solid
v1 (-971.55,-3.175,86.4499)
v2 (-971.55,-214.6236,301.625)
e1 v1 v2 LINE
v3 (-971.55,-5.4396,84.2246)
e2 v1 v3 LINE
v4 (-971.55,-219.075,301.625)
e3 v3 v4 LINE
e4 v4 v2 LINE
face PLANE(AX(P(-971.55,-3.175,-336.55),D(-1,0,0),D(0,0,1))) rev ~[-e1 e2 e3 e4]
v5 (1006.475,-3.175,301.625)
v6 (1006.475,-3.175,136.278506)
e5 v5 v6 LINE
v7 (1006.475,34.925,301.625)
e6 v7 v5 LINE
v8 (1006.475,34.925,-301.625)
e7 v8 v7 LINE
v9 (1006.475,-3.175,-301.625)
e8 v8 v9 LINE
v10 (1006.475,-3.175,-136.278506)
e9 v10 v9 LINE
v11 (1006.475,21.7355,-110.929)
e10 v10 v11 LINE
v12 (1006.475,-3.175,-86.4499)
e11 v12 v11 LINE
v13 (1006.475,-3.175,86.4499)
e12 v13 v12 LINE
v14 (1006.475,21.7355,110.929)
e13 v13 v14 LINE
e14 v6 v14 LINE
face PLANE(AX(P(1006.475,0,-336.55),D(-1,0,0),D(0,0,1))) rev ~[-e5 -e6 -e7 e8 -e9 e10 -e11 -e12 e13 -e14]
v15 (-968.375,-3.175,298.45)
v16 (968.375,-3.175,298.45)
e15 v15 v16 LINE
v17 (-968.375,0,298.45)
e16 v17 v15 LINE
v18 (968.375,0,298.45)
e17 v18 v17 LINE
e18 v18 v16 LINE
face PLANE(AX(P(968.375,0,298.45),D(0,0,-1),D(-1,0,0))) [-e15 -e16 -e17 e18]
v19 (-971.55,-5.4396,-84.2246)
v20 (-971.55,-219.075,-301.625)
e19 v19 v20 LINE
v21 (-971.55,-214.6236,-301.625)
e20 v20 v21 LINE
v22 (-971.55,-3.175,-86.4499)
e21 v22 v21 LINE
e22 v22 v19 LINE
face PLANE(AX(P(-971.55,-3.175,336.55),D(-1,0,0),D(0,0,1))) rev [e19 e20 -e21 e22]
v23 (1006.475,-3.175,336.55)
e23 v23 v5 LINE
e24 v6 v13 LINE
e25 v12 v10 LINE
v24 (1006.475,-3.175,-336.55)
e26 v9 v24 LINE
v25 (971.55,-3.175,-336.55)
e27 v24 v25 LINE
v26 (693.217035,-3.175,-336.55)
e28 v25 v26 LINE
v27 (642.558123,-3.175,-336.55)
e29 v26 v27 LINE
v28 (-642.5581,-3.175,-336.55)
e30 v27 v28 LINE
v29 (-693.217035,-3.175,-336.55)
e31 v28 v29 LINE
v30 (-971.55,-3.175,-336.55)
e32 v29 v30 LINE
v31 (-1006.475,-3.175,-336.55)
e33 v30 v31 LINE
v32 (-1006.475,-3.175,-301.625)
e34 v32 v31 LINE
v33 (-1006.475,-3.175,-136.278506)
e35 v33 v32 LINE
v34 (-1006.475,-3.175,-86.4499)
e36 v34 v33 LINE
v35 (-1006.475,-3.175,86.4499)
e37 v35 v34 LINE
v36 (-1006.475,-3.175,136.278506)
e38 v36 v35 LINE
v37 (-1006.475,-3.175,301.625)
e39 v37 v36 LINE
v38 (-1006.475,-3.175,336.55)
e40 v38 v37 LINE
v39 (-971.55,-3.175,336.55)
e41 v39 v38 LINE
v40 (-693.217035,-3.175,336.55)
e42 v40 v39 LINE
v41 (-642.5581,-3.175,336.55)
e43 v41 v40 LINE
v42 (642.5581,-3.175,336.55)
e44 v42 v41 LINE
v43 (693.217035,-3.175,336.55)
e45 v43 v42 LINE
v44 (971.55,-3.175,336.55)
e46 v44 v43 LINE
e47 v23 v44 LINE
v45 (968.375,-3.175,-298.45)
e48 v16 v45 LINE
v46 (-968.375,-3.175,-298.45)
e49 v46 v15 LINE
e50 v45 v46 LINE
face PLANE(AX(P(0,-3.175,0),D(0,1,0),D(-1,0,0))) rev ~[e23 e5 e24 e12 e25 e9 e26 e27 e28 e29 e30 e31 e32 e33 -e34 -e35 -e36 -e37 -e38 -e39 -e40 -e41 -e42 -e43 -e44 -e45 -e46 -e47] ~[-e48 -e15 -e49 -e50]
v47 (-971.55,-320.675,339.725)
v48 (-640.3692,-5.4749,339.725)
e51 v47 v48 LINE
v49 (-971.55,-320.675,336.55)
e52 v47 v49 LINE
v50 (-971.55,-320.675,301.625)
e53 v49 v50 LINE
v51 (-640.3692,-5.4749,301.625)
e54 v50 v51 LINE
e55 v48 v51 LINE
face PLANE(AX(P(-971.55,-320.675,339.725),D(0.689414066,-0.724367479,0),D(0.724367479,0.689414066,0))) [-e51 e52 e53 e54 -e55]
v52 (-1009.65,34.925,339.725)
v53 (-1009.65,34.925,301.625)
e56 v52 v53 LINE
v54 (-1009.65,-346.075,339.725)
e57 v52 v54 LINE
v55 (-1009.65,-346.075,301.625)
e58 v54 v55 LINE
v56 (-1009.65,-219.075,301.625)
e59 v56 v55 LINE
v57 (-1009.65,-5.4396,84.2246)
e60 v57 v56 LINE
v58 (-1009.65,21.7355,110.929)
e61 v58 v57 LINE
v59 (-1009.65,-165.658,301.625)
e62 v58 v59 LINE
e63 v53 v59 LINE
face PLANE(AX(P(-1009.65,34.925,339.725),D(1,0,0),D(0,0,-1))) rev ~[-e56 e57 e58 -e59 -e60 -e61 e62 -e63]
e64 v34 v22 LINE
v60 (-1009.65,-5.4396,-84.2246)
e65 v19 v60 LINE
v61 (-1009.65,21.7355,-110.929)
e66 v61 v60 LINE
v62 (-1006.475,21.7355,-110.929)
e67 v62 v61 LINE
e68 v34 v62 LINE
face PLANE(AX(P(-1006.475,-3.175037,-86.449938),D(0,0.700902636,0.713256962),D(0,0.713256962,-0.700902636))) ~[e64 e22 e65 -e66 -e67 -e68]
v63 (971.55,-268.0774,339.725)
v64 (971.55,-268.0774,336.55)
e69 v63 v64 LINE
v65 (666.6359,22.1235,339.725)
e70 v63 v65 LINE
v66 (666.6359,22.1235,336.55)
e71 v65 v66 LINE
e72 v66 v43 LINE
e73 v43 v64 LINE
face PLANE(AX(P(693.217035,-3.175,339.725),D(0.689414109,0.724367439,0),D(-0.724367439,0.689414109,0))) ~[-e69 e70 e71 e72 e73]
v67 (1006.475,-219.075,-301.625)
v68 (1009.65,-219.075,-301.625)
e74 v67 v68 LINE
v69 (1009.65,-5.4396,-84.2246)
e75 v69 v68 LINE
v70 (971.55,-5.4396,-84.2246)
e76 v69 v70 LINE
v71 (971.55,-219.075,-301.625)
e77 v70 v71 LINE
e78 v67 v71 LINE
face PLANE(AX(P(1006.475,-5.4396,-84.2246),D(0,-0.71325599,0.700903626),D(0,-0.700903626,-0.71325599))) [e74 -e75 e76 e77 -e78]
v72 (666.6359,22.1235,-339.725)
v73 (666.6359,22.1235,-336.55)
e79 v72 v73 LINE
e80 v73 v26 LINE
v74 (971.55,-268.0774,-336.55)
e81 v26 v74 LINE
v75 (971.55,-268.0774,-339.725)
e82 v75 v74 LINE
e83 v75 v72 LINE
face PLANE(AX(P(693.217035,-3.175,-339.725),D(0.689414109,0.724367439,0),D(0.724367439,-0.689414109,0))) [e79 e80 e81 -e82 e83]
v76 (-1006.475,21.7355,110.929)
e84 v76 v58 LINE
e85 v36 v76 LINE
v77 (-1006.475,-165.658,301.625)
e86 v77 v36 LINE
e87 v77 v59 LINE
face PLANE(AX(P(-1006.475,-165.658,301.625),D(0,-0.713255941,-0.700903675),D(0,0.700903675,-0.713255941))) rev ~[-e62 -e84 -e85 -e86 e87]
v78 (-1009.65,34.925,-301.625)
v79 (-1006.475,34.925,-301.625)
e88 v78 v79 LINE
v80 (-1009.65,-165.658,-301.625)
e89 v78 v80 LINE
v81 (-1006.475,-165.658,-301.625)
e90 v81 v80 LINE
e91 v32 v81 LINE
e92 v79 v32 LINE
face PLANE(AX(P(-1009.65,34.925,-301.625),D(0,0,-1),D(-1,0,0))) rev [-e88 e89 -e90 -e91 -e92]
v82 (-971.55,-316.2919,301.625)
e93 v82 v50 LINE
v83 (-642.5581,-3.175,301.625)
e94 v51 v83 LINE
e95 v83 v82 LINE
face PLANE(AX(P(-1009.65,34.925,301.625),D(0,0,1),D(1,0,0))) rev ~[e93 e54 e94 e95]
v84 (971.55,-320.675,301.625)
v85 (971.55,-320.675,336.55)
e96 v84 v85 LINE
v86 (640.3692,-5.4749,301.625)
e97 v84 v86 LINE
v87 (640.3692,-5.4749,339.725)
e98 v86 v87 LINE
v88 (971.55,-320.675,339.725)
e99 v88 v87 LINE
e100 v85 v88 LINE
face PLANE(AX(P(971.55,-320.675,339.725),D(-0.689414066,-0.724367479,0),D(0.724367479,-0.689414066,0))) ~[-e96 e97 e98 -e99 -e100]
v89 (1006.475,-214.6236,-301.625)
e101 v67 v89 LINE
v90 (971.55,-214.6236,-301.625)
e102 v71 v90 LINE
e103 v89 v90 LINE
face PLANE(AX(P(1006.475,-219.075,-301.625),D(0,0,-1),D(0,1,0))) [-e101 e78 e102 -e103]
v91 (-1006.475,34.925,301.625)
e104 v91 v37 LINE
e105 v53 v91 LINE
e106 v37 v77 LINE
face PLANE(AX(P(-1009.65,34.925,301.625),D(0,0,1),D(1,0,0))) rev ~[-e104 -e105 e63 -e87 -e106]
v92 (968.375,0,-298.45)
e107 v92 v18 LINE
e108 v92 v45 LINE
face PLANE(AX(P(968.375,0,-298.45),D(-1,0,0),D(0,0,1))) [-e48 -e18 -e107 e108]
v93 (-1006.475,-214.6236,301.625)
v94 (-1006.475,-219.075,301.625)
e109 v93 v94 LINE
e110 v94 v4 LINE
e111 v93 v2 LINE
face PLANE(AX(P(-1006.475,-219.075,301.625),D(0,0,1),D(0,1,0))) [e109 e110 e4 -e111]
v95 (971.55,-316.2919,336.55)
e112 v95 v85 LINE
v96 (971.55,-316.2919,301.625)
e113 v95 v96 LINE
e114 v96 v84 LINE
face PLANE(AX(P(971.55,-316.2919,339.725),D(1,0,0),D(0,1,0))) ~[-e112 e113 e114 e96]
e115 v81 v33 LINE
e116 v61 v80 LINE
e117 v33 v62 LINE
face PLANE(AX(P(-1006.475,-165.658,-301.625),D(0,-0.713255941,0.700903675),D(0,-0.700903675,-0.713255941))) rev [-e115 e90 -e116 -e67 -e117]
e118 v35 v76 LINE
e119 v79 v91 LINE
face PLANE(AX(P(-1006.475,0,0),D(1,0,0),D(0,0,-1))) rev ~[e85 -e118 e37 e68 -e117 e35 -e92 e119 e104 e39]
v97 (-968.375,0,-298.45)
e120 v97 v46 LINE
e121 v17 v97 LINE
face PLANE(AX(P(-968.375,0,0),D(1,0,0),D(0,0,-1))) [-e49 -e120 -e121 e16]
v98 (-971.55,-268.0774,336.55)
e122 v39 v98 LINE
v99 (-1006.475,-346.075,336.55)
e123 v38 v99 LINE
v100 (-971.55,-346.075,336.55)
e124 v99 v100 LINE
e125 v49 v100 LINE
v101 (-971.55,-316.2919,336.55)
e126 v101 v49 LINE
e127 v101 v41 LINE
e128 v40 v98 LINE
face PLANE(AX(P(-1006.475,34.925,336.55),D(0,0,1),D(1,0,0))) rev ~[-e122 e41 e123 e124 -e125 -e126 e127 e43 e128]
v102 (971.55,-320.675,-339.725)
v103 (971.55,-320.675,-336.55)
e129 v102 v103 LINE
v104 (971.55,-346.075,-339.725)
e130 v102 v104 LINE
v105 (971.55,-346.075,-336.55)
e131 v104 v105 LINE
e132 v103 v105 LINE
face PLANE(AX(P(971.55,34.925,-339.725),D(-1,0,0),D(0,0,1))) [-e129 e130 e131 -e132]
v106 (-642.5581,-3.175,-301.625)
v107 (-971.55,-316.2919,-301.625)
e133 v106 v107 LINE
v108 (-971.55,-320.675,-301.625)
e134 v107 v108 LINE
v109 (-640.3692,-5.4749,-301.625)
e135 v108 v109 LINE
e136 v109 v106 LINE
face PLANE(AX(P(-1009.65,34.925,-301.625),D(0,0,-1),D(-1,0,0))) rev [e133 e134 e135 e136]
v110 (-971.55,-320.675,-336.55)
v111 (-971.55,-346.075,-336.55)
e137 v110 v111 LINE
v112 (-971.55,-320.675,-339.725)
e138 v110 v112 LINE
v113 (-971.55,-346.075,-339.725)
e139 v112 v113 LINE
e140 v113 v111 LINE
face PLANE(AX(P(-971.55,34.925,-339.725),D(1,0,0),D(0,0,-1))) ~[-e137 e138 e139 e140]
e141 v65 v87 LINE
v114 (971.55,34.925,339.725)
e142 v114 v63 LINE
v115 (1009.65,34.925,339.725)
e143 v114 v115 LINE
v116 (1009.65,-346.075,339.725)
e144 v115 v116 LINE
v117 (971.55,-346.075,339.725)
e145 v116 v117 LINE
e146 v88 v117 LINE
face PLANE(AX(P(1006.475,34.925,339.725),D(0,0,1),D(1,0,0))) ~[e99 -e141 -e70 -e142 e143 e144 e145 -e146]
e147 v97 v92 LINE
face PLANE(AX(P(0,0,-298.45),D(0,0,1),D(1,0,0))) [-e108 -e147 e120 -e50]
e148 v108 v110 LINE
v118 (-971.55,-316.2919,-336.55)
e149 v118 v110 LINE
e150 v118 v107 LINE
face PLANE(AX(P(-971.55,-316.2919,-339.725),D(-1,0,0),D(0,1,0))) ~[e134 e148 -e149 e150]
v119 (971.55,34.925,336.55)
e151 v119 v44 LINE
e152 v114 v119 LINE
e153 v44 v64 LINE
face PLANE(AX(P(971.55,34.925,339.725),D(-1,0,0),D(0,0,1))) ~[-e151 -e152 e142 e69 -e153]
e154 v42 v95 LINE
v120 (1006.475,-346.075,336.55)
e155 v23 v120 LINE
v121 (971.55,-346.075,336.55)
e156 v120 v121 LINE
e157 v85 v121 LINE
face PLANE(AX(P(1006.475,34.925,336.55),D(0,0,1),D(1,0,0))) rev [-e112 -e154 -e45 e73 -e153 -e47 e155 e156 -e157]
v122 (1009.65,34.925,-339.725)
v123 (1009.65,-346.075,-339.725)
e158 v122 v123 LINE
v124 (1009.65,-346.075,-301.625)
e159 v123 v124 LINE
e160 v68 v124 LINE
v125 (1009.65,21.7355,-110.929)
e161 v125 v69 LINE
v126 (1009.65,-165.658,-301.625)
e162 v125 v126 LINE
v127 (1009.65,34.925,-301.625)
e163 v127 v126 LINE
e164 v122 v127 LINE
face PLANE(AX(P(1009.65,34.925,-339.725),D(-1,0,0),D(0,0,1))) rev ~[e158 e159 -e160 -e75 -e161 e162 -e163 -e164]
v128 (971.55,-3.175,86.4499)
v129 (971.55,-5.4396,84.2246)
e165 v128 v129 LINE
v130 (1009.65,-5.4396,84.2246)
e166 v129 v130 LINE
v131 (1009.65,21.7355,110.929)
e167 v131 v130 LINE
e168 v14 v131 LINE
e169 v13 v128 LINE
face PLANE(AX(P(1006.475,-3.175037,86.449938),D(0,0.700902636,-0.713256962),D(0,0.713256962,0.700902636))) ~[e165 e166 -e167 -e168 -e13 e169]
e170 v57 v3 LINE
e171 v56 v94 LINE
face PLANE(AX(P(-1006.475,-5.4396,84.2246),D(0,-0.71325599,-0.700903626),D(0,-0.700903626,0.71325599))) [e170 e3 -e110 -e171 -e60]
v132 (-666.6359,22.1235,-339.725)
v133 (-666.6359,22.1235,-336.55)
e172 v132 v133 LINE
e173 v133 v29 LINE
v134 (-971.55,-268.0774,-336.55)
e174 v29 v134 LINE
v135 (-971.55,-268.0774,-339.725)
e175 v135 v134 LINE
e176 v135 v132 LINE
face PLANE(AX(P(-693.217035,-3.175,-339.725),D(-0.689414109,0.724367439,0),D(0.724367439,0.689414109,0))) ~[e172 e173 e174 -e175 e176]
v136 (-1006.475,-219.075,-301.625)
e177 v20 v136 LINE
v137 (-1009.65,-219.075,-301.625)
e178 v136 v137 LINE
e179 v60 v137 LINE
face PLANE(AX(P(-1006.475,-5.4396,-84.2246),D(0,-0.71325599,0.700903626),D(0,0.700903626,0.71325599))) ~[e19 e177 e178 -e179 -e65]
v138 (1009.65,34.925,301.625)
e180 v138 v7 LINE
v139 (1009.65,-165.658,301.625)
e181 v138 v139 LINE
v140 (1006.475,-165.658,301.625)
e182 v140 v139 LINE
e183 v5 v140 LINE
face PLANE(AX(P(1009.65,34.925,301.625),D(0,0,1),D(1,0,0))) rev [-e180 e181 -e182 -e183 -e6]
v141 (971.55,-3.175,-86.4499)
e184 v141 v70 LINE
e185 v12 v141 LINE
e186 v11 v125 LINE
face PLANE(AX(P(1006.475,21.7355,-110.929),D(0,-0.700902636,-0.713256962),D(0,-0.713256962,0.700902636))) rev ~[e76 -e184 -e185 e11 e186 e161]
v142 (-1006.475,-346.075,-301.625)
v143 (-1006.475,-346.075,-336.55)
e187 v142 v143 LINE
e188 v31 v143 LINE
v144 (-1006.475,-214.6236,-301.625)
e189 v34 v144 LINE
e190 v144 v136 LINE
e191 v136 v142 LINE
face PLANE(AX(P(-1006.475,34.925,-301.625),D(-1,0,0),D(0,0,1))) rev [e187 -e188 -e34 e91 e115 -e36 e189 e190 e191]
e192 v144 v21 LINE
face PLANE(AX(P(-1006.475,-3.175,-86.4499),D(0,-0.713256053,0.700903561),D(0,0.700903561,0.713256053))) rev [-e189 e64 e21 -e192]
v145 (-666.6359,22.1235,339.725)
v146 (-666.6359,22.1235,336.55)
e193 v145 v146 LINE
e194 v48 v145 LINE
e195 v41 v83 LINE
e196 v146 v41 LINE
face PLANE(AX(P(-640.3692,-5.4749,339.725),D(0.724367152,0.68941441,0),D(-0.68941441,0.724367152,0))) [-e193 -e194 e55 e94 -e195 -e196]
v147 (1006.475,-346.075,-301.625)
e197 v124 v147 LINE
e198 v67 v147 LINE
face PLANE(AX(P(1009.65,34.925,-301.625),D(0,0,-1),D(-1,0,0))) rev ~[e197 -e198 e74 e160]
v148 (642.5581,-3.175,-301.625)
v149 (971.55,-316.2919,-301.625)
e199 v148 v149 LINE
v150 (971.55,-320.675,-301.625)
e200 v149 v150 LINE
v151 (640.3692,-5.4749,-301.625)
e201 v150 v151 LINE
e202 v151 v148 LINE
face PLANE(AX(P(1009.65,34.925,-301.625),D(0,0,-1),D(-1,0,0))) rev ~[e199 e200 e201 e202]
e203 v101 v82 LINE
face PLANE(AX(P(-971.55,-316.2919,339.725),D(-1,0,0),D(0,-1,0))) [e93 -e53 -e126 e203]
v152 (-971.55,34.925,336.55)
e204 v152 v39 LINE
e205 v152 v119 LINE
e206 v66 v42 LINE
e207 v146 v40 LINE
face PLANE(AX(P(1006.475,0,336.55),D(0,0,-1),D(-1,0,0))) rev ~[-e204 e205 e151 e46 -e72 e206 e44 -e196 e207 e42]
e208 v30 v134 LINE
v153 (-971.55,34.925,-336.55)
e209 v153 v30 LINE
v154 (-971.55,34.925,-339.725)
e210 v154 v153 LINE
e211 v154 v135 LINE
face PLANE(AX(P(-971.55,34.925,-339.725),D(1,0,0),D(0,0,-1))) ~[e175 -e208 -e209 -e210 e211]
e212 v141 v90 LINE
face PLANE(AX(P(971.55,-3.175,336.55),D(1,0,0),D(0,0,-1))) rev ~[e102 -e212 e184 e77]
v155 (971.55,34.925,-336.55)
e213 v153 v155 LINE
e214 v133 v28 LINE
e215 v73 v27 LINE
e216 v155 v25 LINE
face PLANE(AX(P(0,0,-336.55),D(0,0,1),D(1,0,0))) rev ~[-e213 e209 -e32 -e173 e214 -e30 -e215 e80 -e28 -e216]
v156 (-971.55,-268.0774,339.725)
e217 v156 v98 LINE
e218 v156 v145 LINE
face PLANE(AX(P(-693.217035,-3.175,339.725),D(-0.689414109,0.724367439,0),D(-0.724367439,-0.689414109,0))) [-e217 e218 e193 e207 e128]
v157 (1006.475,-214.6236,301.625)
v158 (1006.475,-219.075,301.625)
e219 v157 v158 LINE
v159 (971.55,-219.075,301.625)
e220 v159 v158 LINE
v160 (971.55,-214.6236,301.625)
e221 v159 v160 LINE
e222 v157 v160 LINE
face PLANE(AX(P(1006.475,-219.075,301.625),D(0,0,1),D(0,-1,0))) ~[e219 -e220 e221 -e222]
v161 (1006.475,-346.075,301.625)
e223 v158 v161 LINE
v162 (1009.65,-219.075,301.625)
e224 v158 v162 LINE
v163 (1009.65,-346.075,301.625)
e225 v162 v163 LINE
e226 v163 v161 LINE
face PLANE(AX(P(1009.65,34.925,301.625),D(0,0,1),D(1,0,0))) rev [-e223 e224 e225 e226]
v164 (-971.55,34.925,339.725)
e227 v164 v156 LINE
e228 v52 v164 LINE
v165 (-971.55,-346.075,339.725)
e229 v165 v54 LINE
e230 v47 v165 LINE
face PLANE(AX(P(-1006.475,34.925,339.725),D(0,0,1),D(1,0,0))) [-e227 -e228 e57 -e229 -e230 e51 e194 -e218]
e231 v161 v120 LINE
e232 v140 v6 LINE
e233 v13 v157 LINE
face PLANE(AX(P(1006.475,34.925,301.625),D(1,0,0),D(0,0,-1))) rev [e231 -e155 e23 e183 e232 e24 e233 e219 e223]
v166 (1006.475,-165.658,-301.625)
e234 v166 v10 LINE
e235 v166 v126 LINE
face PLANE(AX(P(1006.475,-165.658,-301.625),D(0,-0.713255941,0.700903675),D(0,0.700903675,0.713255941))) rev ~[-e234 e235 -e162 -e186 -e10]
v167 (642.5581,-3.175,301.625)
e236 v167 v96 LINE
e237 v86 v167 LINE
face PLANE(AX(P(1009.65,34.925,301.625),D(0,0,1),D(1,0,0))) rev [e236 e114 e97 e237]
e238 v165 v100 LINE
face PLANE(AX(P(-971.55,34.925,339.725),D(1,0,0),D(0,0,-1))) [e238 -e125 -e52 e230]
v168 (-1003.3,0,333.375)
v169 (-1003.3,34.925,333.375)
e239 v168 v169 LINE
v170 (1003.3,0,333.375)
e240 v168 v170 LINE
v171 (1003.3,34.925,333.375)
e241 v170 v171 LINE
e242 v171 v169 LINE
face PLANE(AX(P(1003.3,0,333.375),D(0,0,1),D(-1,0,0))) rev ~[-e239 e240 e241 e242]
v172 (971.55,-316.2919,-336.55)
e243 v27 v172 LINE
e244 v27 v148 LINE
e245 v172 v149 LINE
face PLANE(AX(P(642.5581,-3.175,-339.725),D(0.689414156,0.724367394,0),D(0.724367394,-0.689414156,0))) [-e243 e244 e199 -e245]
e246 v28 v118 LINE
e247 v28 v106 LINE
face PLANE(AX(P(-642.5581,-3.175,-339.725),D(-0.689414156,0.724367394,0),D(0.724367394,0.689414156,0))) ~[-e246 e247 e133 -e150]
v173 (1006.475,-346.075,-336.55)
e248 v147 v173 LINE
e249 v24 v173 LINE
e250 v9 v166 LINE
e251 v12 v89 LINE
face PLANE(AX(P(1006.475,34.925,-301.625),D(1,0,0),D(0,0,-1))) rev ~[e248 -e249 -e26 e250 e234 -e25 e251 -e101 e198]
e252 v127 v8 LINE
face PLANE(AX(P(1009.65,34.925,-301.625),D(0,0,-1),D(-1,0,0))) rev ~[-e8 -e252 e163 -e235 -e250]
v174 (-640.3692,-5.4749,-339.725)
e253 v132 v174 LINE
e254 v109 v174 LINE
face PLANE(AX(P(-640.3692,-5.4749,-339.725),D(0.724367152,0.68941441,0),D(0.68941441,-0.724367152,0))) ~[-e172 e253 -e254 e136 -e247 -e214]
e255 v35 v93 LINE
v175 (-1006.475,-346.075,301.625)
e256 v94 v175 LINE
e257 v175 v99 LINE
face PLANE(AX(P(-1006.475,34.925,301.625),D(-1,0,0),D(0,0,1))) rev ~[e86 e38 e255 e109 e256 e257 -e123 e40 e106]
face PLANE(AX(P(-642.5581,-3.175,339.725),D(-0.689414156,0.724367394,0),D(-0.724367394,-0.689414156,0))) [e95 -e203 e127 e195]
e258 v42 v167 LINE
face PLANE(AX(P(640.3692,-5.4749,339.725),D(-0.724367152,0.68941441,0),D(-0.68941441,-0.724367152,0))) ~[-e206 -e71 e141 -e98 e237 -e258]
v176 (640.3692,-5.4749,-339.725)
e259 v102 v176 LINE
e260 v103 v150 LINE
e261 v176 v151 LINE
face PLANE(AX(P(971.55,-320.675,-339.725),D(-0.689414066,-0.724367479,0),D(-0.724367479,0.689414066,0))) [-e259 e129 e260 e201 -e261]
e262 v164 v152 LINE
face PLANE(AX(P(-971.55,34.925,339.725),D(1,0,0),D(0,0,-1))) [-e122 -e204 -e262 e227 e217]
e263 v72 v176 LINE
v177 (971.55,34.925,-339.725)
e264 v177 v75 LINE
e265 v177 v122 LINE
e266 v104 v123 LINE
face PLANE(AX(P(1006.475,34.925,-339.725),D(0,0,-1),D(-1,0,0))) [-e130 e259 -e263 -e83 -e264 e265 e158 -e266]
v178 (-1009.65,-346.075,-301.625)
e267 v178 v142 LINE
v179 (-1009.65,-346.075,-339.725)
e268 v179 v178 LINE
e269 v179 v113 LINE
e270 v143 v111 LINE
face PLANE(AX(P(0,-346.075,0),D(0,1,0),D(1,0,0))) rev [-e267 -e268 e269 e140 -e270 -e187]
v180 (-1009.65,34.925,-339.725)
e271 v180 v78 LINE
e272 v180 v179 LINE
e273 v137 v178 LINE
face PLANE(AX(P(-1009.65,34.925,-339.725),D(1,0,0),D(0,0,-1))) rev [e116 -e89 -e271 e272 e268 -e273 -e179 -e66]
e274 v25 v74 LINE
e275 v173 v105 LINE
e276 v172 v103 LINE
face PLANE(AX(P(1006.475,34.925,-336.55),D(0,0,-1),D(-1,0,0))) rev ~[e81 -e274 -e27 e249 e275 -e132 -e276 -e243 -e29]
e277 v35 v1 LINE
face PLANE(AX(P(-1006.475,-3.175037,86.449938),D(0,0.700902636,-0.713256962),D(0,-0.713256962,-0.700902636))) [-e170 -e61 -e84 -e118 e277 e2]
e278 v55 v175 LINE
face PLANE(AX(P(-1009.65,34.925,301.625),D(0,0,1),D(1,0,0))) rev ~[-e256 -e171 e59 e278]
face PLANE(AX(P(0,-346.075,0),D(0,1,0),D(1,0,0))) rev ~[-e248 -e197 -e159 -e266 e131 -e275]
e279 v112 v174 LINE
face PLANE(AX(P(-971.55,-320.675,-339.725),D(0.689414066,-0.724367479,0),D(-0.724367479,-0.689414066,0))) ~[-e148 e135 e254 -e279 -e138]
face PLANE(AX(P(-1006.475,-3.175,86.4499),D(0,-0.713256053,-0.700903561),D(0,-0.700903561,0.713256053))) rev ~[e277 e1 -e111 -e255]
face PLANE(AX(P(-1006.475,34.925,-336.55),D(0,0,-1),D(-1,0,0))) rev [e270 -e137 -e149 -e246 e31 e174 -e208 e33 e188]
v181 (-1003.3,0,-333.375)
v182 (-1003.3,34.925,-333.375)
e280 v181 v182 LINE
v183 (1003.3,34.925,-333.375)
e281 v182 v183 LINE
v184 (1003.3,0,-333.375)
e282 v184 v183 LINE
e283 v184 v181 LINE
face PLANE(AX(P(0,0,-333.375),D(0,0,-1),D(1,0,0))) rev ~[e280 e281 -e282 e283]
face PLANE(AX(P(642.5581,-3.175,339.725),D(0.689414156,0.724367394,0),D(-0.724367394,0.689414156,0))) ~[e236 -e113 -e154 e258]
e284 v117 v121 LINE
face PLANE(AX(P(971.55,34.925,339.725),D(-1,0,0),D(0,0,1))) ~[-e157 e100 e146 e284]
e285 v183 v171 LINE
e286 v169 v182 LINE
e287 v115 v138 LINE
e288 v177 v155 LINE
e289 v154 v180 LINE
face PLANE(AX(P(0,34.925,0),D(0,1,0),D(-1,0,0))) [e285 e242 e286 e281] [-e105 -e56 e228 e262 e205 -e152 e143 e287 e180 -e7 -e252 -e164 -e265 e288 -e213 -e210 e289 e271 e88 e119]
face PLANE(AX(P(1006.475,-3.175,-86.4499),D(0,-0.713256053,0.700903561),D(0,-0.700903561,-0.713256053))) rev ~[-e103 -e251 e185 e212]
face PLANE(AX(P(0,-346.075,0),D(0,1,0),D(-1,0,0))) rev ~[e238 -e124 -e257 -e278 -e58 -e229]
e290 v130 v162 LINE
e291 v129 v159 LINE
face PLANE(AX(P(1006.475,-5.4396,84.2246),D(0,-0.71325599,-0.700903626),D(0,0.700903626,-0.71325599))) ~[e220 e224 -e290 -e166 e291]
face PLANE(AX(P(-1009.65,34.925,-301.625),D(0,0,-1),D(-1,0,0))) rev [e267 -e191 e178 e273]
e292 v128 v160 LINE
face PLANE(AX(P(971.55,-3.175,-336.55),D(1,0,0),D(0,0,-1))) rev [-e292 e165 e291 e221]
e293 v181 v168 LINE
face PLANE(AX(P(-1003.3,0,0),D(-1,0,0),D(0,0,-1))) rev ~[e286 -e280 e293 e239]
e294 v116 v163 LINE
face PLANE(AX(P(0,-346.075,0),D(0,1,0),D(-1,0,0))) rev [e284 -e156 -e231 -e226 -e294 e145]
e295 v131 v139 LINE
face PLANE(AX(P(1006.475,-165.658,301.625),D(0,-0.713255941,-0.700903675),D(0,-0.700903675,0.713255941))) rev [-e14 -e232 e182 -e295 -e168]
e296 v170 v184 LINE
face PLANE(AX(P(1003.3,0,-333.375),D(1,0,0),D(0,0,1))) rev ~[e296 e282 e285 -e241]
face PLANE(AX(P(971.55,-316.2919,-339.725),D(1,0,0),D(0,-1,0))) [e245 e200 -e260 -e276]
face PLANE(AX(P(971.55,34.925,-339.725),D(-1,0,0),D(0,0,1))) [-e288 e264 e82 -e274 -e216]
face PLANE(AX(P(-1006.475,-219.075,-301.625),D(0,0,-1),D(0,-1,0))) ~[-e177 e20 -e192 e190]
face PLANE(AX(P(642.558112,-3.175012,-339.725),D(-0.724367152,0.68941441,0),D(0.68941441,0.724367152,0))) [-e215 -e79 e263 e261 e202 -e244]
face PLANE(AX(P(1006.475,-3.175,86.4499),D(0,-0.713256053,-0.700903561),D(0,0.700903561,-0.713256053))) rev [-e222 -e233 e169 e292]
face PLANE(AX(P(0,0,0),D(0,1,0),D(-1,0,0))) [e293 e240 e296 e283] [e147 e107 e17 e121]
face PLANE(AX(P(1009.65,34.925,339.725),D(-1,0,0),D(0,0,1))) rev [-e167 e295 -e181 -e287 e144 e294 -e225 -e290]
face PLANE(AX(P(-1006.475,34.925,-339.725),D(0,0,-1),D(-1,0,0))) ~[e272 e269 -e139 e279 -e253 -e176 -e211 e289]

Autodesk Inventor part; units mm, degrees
ref_plane "YZ Plane" through (0, 0, 0) normal (1, 0, 0) x (0, 1, 0)
ref_plane "XZ Plane" through (0, 0, 0) normal (0, 1, 0) x (-1, 0, 0)
ref_plane "XY Plane" through (0, 0, 0) normal (0, 0, 1) x (1, 0, 0)
sketch "Sketch1" plane through (0, 0, 0) normal (0, 1, 0) x (-1, 0, 0)
  line L0 (0, -471.17) -> (0, 471.17) projected
  line L1 (1409.065, 0) -> (-1409.065, 0) projected
  line L2 (-1003.3, 333.375) -> (1003.3, 333.375)
  line L3 (1003.3, 333.375) -> (1003.3, -333.375)
  line L4 (1003.3, -333.375) -> (-1003.3, -333.375)
  line L5 (-1003.3, -333.375) -> (-1003.3, 333.375)
  line L6 (-968.375, 298.45) -> (968.375, 298.45)
  line L7 (968.375, 298.45) -> (968.375, -298.45)
  line L8 (968.375, -298.45) -> (-968.375, -298.45)
  line L9 (-968.375, -298.45) -> (-968.375, 298.45)
  line L10 (-1006.475, 336.55) -> (1006.475, 336.55)
  line L11 (1006.475, 336.55) -> (1006.475, -336.55)
  line L12 (1006.475, -336.55) -> (-1006.475, -336.55)
  line L13 (-1006.475, -336.55) -> (-1006.475, 336.55)
  point P0 (0, 0)
  dimension "d0" = 2006.6
  dimension "d1" = 666.75
  dimension "d2" = 596.9
  dimension "d3" = 1936.75
  dimension "d4" = 3.175
  dimension "d5" = 3.175
extrude "Extrusion1" add sketch "Sketch1" against normal blind 3.175 contours L12 L13 L1 L5 L4 L0 | L0 L4 L3 L1 L11 L12 | L4 L5 L1 L9 L8 L0 | L0 L8 L7 L1 L3 L4 | L1 L3 L2 L0 L10 L11 | L13 L10 L0 L2 L5 L1 | L1 L7 L6 L0 L2 L3 | L5 L2 L0 L6 L9 L1
extrude "Extrusion2" add sketch "Sketch1" along normal blind 34.925 contours L12 L13 L1 L5 L4 L0 | L0 L4 L3 L1 L11 L12 | L1 L3 L2 L0 L10 L11 | L13 L10 L0 L2 L5 L1
sketch "Sketch2" plane through (0, 34.925, 0) normal (0, 1, 0) x (1, 0, 0)
  line L0 (1006.475, -336.55) -> (1006.475, 336.55) projected
  line L1 (1006.475, 336.55) -> (-1006.475, 336.55) projected
  line L2 (971.55, 336.55) -> (1006.475, 336.55)
  line L3 (1006.475, 339.725) -> (971.55, 339.725)
  line L4 (971.55, 339.725) -> (971.55, 336.55)
  line L5 (1006.475, 339.725) -> (1009.65, 339.725)
  line L6 (1009.65, 339.725) -> (1009.65, 301.625)
  line L7 (1009.65, 301.625) -> (1006.475, 301.625)
  line L8 (1006.475, 301.625) -> (1006.475, 336.55)
  point P0 (0, 0)
  dimension "d10" = 3.175
  dimension "d15" = 3.175
  dimension "d41" = 38.1
  dimension "d42" = 38.1
extrude "Extrusion3" add sketch "Sketch2" against normal blind 381
sketch "Sketch4" plane through (1006.475, -3.175, 336.55) normal (1, 0, 0) x (0, 0, -1)
  line L0 (638.175, 0) -> (0, 0) projected
  line L1 (447.479, 24.9105) -> (420.7746, -2.2646)
  line L2 (420.7746, -2.2646) -> (638.175, -215.9)
  line L3 (638.175, -215.9) -> (638.175, -162.483)
  line L4 (638.175, -162.483) -> (447.479, 24.9105)
  line L5 (638.175, 38.1) -> (638.175, -342.9) projected
  line L6 (676.275, -342.9) -> (638.175, -342.9) projected
  line L7 (422.9999, 0) -> (638.175, -211.4486)
  line L8 (422.9999, 0) -> (420.7746, -2.2646)
  line L9 (420.7746, -2.2646) -> (638.175, -215.9)
  line L10 (638.175, -215.9) -> (638.175, -211.4486)
  line L11 (638.175, -211.4486) -> (422.9999, 0)
  point P0 (336.55, 3.175)
  dimension "d23" = 38.1
  dimension "d24" = 304.8
  dimension "d25" = 127
  dimension "d28" = 3.175
extrude "Extrusion5" add sketch "Sketch4" against normal blind 34.925 contours L7 L3 L2 L1
extrude "Extrusion6" add sketch "Sketch4" along normal blind 3.175 contours L4 L3 L7 L0 | L0 L1 L4 | L7 L3 L2 L1
sketch "Sketch5" plane through (1009.65, 34.925, -339.725) normal (0, 0, -1) x (-1, 0, 0)
  line L0 (38.1, -381) -> (0, -381) projected
  line L1 (38.1, 0) -> (38.1, -381) projected
  line L2 (38.1, 0) -> (38.1, -38.1) projected
  line L3 (2016.125, -38.1) -> (38.1, -38.1) projected
  line L4 (2016.125, 0) -> (2016.125, -38.1) projected
  line L5 (38.1, 0) -> (2016.125, 0) projected
  line L6 (38.1, -355.6) -> (369.2808, -40.3999)
  line L7 (369.2808, -40.3999) -> (343.0141, -12.8015)
  line L8 (343.0141, -12.8015) -> (38.1, -303.0024)
  line L9 (38.1, -303.0024) -> (38.1, -355.6)
  line L10 (367.0919, -38.1) -> (38.1, -351.2169)
  point P0 (1009.65, -34.925)
  dimension "d33" = 38.1
  dimension "d34" = 25.4
  dimension "d35" = 3.175
  dimension "d36" = 457.2
extrude "Extrusion7" add sketch "Sketch5" against normal blind 3.175 contours L8 L3 L10 L1 | L8 L7 L3 | L10 L7 L6 L1
extrude "Extrusion8" add sketch "Sketch5" against normal blind 38.1 contours L10 L7 L6 L1
mirror "Mirror1" about plane through (0, 0, 0) normal (0, 0, 1) of "Extrusion8", "Extrusion7", "Extrusion6", "Extrusion5", "Extrusion3"
mirror "Mirror2" about plane through (0, 0, 0) normal (1, 0, 0) of "Extrusion8", "Extrusion7", "Extrusion6", "Extrusion5", "Extrusion3", "Mirror1"
properties part number "Burner_Stand"
